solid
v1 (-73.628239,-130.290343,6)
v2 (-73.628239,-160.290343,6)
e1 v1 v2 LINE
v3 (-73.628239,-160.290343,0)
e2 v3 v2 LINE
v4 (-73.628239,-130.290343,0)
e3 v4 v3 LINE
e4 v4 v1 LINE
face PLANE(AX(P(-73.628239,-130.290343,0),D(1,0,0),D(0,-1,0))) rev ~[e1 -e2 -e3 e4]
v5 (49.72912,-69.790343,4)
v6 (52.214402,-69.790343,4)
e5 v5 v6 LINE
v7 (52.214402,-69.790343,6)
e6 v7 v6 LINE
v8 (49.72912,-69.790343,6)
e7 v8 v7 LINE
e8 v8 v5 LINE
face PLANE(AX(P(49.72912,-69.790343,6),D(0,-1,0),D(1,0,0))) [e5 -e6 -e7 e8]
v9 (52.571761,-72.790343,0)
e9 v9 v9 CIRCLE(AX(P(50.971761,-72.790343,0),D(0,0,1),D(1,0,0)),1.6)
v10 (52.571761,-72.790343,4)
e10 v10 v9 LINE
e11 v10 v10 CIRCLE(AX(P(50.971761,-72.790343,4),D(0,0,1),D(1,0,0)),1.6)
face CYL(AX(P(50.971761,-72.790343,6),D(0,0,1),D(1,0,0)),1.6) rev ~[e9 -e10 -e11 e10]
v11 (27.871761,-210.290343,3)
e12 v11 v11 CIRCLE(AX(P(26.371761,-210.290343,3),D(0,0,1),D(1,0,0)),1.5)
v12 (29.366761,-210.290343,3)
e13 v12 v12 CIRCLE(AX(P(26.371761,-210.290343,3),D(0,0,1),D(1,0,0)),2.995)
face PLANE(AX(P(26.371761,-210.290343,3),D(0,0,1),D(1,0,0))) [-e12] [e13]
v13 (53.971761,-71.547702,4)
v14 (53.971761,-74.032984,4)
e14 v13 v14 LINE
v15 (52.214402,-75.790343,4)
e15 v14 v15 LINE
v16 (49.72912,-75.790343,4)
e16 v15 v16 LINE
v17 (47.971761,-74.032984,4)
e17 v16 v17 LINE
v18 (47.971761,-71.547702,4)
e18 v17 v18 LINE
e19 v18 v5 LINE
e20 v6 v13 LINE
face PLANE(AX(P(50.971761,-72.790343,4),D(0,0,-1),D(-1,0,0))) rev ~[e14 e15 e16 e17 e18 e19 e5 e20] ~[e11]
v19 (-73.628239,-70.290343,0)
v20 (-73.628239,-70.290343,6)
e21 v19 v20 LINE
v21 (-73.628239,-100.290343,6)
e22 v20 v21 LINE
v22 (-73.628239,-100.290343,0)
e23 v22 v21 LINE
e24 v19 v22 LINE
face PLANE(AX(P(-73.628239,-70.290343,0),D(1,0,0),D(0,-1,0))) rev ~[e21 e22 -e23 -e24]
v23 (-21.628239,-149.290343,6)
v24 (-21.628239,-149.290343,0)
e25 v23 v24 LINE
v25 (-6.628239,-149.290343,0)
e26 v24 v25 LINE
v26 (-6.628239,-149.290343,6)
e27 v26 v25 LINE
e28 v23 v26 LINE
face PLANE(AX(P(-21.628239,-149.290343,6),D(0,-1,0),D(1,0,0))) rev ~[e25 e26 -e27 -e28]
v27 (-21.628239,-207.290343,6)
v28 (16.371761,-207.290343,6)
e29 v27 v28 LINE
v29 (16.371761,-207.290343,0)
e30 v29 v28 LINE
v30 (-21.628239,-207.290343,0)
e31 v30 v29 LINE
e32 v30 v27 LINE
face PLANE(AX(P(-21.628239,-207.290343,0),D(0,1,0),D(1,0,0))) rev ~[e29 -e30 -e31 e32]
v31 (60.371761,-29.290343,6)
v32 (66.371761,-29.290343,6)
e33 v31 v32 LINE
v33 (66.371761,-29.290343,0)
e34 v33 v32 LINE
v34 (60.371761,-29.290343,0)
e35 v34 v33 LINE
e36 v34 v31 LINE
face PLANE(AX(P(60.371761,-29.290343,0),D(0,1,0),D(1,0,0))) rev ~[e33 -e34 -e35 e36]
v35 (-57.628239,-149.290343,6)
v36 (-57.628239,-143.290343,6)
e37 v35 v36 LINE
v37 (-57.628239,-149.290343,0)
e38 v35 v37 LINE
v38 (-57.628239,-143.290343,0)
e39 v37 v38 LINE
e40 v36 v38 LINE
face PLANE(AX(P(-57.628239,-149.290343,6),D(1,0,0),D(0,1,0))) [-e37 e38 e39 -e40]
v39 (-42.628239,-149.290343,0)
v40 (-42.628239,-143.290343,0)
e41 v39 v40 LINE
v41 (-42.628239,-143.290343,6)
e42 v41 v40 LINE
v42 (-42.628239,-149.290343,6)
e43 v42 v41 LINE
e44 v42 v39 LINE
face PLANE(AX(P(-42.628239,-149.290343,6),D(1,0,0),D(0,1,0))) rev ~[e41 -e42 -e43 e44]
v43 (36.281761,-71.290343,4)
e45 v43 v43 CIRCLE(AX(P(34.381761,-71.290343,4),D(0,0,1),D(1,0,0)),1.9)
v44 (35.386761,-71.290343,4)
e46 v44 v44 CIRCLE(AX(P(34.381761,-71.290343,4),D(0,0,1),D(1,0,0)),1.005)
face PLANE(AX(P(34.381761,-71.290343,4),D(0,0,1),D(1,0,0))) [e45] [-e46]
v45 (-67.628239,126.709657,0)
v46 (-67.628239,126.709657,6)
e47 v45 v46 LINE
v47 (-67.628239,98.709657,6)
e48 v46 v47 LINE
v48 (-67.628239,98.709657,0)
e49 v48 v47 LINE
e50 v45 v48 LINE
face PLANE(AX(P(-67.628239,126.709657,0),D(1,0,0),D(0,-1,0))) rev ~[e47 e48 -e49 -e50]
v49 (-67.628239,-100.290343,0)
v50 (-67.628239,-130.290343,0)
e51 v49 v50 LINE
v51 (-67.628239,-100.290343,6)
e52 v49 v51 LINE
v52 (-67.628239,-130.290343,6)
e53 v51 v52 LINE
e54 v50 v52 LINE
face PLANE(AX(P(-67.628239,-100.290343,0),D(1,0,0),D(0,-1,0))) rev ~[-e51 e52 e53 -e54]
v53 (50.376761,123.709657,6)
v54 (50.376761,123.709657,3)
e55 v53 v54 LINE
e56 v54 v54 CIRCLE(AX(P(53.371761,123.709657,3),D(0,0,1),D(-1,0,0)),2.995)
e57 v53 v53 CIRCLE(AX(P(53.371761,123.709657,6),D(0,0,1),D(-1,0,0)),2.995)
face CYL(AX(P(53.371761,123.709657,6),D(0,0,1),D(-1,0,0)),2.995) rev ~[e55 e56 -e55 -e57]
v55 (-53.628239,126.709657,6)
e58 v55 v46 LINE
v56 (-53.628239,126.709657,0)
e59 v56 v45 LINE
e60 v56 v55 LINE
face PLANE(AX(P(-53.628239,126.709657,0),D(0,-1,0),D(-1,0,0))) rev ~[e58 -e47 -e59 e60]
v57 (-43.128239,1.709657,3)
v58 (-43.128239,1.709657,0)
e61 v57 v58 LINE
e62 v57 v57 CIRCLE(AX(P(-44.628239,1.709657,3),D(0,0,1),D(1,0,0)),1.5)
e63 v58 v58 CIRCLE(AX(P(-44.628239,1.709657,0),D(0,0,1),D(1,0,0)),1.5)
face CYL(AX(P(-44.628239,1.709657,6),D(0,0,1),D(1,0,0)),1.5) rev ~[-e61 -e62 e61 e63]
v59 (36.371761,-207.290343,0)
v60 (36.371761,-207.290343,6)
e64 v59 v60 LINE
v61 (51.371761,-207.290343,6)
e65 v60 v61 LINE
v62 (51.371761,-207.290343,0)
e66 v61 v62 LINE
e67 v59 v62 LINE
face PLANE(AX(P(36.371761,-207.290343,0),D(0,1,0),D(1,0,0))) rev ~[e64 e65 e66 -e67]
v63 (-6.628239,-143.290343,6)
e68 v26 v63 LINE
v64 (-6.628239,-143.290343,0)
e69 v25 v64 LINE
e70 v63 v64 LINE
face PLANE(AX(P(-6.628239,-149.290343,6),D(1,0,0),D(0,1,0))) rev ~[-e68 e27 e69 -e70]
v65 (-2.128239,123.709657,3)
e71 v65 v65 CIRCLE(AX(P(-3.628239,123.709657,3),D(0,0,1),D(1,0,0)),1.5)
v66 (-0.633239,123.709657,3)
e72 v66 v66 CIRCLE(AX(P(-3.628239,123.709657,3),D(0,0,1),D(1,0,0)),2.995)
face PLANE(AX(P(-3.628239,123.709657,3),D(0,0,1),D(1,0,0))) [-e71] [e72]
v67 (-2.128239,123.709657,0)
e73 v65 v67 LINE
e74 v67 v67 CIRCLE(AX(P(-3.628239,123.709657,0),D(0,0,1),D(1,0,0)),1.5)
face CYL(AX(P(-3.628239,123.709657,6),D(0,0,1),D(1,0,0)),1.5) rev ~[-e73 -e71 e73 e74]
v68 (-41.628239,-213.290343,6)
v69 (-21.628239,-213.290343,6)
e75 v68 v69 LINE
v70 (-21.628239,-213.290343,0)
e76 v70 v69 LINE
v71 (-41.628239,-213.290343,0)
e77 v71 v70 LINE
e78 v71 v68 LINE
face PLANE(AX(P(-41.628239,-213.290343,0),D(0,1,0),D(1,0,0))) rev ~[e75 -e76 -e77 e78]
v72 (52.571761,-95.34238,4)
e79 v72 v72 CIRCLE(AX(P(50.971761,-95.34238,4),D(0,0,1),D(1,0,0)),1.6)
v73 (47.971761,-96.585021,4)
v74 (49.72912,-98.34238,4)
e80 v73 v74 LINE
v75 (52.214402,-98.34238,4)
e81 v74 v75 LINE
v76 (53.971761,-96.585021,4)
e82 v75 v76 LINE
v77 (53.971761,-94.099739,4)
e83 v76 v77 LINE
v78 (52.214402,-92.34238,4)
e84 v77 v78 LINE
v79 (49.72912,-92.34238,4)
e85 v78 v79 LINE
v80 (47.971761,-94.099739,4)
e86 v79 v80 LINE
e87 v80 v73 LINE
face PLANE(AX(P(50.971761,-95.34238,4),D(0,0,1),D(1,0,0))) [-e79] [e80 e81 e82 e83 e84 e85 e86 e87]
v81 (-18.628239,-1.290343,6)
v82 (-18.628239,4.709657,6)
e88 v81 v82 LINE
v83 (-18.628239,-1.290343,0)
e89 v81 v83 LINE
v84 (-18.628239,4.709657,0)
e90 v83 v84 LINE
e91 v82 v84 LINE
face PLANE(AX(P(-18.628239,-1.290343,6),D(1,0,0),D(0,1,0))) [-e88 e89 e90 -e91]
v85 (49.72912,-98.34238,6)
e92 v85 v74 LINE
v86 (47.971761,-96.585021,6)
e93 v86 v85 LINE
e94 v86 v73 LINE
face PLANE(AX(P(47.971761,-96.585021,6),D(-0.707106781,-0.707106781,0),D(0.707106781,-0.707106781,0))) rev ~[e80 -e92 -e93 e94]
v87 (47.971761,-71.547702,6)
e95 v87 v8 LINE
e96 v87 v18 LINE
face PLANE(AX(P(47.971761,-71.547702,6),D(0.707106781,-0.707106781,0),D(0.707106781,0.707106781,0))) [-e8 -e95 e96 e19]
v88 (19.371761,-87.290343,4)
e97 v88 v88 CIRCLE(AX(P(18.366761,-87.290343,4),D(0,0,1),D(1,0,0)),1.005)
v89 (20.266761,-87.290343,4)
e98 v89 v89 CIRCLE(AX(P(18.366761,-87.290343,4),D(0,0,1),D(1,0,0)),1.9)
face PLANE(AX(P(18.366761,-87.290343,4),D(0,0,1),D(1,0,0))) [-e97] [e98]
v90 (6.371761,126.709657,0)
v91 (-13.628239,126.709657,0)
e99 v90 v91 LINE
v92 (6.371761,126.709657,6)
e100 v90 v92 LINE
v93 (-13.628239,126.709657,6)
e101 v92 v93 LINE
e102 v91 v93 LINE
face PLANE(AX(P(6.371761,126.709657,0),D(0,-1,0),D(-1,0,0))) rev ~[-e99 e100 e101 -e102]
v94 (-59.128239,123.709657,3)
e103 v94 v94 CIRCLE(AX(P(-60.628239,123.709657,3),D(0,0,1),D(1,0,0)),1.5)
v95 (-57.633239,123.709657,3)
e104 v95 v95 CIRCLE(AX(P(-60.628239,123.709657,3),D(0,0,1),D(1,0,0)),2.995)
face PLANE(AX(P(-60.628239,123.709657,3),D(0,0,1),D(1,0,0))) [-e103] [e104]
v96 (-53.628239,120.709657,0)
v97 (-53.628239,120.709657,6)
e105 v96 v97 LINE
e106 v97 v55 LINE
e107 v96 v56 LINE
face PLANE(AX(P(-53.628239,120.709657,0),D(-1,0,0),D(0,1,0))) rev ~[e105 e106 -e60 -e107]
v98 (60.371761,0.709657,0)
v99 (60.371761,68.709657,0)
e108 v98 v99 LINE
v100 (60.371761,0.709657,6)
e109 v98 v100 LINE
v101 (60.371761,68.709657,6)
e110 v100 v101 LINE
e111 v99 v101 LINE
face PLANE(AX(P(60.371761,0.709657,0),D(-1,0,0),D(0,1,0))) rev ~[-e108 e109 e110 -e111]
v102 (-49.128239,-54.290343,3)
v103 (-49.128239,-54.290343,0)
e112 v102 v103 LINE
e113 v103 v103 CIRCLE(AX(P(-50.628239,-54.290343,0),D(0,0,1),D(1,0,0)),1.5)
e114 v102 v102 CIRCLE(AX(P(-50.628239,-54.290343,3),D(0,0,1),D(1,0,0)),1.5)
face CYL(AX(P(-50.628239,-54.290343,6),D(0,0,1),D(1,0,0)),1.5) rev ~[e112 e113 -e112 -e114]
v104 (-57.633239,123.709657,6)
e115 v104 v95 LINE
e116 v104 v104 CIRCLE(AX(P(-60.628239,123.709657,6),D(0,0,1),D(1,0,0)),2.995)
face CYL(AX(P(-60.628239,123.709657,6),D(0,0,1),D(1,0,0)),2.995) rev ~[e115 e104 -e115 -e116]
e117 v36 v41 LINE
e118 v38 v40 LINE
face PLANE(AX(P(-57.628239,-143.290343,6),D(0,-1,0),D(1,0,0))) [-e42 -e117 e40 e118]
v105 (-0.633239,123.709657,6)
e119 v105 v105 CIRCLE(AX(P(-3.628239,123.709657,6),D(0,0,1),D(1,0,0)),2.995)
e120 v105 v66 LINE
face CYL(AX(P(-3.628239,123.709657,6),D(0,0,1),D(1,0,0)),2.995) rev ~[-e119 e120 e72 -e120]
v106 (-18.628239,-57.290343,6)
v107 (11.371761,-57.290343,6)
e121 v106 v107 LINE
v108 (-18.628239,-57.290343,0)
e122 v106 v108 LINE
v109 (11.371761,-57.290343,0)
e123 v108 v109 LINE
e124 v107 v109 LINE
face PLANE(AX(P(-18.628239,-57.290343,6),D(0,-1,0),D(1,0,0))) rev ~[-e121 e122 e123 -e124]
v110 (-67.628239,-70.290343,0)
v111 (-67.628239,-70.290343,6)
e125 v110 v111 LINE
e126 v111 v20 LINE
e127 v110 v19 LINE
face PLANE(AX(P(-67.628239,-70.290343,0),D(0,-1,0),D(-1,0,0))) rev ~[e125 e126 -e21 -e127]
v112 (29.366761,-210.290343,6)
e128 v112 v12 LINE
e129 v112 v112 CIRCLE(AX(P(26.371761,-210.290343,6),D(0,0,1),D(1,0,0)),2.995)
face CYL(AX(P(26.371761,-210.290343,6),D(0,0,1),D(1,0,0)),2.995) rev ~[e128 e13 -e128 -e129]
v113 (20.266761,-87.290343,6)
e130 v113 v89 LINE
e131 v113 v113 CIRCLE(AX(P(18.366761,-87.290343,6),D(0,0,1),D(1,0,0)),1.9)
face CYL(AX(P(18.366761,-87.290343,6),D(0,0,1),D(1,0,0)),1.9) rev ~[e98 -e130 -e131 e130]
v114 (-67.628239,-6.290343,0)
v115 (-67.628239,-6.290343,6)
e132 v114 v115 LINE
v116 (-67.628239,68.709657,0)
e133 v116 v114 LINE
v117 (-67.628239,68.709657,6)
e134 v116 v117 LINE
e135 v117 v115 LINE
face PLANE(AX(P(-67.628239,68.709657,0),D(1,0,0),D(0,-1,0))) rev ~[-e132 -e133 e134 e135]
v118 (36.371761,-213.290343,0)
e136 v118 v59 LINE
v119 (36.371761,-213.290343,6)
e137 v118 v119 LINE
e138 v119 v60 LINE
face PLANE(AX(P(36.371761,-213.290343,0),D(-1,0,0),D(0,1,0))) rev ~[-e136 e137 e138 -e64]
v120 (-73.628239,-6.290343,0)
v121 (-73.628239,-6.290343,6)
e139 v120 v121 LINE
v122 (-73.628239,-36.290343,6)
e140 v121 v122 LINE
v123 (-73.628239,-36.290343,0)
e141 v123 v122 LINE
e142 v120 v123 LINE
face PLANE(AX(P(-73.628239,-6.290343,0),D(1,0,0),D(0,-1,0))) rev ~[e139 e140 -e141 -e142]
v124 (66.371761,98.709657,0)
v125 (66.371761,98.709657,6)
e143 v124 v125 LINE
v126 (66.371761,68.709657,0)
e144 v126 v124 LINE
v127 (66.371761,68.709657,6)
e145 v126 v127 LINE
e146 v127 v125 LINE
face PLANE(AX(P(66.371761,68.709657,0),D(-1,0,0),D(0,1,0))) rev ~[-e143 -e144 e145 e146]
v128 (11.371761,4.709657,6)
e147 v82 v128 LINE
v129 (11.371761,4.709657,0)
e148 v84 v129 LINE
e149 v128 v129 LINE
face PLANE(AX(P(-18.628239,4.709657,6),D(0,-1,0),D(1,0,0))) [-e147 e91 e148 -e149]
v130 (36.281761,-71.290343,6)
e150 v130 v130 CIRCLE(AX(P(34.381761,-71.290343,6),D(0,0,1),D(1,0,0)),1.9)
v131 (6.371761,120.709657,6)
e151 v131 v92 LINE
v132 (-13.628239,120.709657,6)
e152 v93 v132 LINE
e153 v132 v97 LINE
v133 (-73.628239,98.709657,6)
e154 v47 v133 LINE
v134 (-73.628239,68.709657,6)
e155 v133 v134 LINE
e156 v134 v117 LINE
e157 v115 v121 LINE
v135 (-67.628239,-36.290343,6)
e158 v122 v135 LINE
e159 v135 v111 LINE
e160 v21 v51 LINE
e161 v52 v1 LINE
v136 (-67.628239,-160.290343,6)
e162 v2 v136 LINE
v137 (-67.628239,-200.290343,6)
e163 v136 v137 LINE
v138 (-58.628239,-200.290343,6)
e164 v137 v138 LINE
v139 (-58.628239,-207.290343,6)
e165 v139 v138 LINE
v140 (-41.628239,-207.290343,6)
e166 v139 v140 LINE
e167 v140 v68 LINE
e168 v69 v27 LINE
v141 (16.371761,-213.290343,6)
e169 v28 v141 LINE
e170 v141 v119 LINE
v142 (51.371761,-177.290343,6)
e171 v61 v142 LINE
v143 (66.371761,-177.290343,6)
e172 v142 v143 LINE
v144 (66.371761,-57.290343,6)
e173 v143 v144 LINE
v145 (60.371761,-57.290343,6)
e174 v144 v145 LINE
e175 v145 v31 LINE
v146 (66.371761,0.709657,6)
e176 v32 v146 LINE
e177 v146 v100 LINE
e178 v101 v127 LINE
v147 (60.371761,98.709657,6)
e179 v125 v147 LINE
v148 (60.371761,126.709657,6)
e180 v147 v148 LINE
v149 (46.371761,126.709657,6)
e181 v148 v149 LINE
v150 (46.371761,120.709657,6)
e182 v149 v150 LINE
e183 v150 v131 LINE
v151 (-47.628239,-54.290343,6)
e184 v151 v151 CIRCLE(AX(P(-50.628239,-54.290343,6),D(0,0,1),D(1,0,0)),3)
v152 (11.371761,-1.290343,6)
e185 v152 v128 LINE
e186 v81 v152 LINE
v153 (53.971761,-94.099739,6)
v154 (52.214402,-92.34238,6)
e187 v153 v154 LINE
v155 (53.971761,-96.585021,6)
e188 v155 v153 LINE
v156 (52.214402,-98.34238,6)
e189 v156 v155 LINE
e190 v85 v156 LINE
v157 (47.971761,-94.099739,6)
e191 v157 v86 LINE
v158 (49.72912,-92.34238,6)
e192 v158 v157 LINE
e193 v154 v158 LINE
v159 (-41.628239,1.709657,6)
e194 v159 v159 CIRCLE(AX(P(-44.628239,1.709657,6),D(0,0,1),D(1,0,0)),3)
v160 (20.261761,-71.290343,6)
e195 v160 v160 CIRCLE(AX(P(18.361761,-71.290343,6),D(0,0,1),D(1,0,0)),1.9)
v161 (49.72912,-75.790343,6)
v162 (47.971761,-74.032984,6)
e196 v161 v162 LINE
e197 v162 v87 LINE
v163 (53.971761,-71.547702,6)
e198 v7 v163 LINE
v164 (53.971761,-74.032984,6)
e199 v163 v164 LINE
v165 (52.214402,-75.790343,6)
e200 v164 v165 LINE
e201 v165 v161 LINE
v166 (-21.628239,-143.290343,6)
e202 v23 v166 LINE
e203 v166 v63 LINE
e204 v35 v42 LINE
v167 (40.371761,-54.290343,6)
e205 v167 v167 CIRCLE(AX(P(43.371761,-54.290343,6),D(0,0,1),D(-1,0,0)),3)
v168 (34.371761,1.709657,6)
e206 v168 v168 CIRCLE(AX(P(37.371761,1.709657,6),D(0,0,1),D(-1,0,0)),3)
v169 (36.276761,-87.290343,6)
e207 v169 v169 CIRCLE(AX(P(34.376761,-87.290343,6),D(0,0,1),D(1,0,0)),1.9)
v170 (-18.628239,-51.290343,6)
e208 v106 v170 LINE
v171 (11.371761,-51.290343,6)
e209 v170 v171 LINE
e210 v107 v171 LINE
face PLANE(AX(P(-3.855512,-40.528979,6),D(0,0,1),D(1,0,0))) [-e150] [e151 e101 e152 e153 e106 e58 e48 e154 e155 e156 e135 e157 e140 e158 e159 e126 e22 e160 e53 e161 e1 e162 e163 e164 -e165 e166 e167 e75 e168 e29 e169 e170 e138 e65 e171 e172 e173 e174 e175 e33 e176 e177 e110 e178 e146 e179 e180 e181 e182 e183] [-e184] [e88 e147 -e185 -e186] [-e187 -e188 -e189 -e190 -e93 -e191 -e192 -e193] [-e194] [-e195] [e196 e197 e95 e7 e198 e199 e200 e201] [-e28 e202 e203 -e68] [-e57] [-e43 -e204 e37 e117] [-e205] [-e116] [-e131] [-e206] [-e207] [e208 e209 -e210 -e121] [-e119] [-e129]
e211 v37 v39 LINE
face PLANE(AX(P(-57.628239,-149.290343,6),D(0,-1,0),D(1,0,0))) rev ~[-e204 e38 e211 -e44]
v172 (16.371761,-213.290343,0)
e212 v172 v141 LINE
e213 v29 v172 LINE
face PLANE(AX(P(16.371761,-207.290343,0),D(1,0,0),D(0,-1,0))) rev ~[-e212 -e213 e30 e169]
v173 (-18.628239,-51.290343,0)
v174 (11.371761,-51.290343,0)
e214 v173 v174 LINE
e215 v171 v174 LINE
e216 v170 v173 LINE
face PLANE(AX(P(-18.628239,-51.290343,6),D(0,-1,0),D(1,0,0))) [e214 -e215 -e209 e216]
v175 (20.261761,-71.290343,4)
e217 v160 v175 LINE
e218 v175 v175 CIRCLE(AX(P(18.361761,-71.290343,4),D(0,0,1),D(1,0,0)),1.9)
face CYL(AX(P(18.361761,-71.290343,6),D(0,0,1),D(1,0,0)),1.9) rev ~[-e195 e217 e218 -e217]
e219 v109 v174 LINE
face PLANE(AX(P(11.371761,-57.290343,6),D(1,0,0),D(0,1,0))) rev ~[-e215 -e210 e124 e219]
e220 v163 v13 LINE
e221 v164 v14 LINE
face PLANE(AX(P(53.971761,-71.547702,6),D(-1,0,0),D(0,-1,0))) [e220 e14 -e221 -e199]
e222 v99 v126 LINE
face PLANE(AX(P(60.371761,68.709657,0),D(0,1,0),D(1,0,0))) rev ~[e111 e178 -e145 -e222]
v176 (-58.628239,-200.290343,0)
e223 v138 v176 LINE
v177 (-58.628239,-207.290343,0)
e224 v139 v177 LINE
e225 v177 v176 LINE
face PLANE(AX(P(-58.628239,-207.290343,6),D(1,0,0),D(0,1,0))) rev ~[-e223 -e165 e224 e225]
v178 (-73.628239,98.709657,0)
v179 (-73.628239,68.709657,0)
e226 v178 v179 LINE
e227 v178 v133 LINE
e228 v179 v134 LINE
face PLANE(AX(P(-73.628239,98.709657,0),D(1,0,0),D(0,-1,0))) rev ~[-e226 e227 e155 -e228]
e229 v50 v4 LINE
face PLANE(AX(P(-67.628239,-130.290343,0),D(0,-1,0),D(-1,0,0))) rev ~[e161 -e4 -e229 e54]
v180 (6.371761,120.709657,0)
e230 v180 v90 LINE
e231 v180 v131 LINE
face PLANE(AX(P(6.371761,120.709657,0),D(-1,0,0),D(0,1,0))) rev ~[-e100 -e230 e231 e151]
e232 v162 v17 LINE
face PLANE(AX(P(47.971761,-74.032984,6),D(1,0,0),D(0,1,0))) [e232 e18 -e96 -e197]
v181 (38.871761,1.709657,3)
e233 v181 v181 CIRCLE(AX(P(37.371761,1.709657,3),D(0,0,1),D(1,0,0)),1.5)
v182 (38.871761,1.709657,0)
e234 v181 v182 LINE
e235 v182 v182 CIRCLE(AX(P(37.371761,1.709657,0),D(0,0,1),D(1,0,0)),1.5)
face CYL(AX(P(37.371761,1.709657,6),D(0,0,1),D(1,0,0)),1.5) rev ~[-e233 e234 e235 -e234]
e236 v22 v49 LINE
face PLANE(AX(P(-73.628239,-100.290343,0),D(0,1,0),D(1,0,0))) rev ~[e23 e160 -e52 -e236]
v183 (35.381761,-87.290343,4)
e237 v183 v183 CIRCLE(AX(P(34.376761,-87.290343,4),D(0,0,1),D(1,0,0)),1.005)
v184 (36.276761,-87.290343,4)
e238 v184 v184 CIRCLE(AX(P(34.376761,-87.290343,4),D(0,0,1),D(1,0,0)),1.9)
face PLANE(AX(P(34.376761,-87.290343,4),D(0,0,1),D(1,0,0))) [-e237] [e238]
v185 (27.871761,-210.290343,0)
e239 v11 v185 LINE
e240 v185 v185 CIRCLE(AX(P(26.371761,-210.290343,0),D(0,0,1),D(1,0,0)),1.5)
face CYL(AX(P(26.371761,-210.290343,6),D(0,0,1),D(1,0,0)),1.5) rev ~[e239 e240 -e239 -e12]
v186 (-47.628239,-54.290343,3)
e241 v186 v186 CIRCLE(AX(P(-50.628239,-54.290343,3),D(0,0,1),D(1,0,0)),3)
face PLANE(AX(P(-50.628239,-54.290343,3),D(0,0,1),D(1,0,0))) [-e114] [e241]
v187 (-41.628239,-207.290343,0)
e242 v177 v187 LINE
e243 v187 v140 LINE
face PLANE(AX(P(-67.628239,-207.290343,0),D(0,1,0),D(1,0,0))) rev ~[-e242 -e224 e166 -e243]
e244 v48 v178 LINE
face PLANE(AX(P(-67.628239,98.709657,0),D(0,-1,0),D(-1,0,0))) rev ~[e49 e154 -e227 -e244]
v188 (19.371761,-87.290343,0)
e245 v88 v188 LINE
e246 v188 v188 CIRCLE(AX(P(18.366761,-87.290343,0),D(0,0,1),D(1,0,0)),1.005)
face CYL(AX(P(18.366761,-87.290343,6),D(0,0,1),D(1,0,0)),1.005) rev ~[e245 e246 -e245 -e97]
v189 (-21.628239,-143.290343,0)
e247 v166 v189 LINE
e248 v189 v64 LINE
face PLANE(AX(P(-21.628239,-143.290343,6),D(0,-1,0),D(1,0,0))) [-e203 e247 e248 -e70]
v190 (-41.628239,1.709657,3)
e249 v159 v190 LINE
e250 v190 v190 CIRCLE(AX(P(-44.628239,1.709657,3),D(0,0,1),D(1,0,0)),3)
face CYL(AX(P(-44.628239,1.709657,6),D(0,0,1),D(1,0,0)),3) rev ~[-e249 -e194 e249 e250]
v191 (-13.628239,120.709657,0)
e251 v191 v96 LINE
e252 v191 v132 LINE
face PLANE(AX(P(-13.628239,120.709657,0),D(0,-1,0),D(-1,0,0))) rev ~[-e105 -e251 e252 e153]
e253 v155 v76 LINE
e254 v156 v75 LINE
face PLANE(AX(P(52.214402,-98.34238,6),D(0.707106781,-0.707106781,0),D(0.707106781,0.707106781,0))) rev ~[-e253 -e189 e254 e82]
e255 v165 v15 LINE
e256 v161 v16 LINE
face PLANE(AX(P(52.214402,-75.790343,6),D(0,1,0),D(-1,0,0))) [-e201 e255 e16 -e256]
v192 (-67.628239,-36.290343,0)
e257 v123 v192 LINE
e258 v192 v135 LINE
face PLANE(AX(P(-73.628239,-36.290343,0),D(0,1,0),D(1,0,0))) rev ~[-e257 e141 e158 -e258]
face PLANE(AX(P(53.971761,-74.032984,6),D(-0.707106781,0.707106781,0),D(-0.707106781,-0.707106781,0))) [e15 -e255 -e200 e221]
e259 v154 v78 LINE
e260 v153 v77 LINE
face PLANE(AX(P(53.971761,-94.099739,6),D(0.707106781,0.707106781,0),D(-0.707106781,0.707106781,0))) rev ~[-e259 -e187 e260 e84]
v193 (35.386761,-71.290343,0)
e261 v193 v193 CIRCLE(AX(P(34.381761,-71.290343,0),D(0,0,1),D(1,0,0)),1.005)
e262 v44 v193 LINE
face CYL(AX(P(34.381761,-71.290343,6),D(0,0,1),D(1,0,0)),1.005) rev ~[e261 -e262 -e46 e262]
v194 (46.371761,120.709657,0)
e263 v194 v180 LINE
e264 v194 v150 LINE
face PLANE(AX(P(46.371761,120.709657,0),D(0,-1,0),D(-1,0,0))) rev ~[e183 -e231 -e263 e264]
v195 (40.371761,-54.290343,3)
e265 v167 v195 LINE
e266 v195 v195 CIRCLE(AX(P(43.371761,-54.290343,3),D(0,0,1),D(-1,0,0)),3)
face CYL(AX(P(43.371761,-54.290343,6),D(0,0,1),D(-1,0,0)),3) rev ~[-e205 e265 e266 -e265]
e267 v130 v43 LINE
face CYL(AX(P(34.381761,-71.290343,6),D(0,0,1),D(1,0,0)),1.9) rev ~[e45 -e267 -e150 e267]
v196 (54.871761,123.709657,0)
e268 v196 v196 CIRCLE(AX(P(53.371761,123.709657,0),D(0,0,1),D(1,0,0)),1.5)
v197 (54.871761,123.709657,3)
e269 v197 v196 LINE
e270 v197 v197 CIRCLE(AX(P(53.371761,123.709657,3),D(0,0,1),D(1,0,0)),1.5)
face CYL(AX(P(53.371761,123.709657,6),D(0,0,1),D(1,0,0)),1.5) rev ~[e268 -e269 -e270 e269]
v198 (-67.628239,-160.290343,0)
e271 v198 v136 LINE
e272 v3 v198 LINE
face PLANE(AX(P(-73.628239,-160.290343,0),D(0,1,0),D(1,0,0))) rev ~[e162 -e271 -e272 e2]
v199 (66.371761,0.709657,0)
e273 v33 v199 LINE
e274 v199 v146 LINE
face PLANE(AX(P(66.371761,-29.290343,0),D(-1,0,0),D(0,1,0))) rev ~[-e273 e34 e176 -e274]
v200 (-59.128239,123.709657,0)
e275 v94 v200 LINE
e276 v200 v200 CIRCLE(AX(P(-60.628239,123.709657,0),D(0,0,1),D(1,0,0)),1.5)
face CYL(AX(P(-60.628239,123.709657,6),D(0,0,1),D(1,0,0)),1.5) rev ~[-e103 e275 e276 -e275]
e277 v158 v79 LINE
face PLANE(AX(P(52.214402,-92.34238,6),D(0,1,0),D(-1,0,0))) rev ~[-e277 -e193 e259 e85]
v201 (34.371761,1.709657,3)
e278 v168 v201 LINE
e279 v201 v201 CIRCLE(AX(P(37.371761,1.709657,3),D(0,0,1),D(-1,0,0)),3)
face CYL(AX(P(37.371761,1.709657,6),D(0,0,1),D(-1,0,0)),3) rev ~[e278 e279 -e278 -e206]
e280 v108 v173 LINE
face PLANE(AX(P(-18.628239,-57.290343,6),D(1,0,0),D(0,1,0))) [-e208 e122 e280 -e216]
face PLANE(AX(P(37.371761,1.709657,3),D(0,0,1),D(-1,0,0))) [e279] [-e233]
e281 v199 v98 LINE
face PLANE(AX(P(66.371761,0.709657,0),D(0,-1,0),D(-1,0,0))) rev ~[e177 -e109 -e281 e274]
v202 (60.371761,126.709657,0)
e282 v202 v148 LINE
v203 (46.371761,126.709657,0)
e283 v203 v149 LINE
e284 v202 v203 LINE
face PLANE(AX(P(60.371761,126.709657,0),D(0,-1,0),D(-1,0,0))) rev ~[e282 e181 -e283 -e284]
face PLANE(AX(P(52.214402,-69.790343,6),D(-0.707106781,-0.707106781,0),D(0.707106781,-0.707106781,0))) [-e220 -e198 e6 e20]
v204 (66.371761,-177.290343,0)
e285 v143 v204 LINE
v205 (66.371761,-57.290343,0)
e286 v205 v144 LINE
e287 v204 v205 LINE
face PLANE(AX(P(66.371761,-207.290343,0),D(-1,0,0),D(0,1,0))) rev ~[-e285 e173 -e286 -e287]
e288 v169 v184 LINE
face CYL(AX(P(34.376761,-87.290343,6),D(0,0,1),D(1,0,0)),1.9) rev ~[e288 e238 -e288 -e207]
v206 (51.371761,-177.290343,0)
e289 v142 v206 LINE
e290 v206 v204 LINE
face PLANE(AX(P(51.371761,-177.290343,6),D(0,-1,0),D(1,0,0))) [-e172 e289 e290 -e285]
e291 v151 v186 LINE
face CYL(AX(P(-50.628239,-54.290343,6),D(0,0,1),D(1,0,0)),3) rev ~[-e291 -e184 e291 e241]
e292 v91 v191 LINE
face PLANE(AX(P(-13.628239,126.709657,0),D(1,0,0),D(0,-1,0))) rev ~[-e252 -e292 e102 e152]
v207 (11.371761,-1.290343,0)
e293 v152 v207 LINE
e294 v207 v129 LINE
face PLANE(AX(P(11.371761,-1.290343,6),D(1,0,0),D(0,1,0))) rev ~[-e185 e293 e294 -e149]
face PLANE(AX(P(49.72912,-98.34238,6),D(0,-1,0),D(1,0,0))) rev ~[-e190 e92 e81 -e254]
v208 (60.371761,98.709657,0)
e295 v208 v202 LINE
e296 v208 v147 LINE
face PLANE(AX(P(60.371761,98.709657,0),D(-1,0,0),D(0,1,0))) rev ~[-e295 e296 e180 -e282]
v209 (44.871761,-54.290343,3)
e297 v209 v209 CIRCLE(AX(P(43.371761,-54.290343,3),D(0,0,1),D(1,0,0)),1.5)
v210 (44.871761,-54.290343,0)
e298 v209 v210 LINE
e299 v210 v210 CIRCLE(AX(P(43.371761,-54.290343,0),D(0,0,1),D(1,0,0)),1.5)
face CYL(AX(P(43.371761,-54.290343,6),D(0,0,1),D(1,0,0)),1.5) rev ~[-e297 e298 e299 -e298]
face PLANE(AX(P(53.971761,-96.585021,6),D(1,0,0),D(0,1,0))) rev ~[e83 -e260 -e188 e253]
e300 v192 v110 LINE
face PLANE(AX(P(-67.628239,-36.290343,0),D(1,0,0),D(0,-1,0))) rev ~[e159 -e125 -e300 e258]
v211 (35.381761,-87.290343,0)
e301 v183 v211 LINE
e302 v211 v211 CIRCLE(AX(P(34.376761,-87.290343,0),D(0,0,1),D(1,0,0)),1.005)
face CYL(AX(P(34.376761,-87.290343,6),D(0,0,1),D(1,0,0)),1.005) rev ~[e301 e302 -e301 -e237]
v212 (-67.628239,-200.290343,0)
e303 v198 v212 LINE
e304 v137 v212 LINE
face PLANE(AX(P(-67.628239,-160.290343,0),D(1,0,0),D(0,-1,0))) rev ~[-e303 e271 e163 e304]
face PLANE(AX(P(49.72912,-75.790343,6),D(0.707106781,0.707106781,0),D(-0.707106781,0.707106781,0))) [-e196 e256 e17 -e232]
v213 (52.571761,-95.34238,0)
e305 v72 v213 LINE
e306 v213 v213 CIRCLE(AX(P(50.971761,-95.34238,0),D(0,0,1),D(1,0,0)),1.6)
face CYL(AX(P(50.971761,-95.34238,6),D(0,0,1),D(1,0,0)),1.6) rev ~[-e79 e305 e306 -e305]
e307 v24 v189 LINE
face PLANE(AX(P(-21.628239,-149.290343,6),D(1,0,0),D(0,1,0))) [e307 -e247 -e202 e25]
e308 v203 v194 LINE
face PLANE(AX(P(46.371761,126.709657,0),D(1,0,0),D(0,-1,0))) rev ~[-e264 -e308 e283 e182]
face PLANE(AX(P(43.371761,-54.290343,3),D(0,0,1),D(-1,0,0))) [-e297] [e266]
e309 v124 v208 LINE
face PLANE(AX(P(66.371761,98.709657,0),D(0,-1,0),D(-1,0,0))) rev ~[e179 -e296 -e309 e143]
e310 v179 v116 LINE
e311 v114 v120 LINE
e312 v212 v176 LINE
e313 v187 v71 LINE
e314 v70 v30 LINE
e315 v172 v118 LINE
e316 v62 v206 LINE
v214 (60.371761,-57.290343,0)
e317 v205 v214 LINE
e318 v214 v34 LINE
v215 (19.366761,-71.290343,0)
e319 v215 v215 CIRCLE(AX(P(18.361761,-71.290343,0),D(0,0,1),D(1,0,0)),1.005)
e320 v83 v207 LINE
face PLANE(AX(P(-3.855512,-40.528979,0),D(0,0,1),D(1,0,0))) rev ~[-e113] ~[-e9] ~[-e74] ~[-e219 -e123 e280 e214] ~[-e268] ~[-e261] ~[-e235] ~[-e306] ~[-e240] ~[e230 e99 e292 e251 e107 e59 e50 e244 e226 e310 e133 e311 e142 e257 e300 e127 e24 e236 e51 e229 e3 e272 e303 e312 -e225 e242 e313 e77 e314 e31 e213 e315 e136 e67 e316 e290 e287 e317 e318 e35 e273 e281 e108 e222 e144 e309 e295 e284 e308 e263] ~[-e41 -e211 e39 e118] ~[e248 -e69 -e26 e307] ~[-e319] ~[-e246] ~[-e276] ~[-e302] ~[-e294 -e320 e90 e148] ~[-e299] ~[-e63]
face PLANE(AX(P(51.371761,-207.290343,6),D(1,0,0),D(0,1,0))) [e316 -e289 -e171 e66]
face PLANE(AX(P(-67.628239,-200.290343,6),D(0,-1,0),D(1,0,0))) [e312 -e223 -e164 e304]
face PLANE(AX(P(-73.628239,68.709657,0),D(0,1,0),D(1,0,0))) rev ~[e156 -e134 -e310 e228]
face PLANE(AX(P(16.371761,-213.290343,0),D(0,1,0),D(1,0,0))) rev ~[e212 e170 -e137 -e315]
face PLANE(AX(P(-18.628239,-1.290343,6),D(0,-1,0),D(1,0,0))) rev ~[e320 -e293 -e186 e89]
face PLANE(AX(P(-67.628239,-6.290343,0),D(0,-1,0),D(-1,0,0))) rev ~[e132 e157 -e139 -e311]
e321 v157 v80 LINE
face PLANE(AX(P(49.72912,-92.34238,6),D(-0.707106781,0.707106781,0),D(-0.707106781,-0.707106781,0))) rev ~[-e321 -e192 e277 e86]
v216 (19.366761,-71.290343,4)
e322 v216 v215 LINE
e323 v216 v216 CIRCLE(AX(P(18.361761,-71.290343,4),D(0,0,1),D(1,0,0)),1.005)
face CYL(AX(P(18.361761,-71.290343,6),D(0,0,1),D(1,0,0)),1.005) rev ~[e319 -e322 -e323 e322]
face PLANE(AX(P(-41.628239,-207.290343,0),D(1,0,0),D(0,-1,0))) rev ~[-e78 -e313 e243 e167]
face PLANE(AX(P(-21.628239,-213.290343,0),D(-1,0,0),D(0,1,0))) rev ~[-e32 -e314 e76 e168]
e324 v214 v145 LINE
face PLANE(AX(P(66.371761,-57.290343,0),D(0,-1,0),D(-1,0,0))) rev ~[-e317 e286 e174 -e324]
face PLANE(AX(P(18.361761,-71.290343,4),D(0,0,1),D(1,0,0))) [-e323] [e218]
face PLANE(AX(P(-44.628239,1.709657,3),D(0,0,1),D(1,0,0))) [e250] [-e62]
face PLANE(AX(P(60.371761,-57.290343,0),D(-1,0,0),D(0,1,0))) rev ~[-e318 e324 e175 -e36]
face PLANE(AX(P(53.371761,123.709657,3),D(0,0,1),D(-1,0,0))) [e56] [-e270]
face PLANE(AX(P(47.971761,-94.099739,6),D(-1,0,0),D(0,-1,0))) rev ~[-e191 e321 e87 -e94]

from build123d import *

# Parameters (mm, degrees)
BOSS_EXTRU_1_DEPTH       = 6
ESQUISSE2_R              = 1.5
ESQUISSE2_W              = 30
ESQUISSE2_H              = 6
ENL_V_MAT_EXTRU_1_DEPTH  = 226.720818795
ESQUISSE3_R              = 2.995
ESQUISSE3_R_2            = 3
ENL_V_MAT_EXTRU_2_DEPTH  = 3
ESQUISSE4_R              = 1.005
ENL_V_MAT_EXTRU_4_DEPTH  = 226.720818795
ESQUISSE5_R              = 1.9
ENL_V_MAT_EXTRU_5_DEPTH  = 2
ESQUISSE6_W              = 15
ESQUISSE6_H              = 30
ESQUISSE6_W_2            = 9
ESQUISSE6_H_2            = 7
ENL_V_MAT_EXTRU_6_DEPTH  = 226.720818795
ESQUISSE7_R              = 1.6
ENL_V_MAT_EXTRU_7_DEPTH  = 226.720818795
ESQUISSE10_W             = 15
ESQUISSE10_H             = 6
ENL_V_MAT_EXTRU_9_DEPTH  = 226.720818795
ESQUISSE11_R             = 1.6
ENL_V_MAT_EXTRU_10_DEPTH = 2


with BuildPart() as part:
    # Esquisse1 → Boss.-Extru.1 (new body)
    with BuildSketch(Plane.XY):
        Polygon((-67.628238976, -207.290343107), (-41.628238976, -207.290343107), (-41.628238976, -213.290343107), (-21.628238976, -213.290343107), (-21.628238976, -207.290343107), (16.371761024, -207.290343107), (16.371761024, -213.290343107), (36.371761024, -213.290343107), (36.371761024, -207.290343107), (66.371761024, -207.290343107), (66.371761024, -57.290343107), (60.371761024, -57.290343107), (60.371761024, -29.290343107), (66.371761024, -29.290343107), (66.371761024, 0.709656893), (60.371761024, 0.709656893), (60.371761024, 68.709656893), (66.371761024, 68.709656893), (66.371761024, 98.709656893), (60.371761024, 98.709656893), (60.371761024, 126.709656893), (46.371761024, 126.709656893), (46.371761024, 120.709656893), (6.371761024, 120.709656893), (6.371761024, 126.709656893), (-13.628238976, 126.709656893), (-13.628238976, 120.709656893), (-53.628238976, 120.709656893), (-53.628238976, 126.709656893), (-67.628238976, 126.709656893), (-67.628238976, 98.709656893), (-73.628238976, 98.709656893), (-73.628238976, 68.709656893), (-67.628238976, 68.709656893), (-67.628238976, -6.290343107), (-73.628238976, -6.290343107), (-73.628238976, -36.290343107), (-67.628238976, -36.290343107), (-67.628238976, -70.290343107), (-73.628238976, -70.290343107), (-73.628238976, -100.290343107), (-67.628238976, -100.290343107), (-67.628238976, -130.290343107), (-73.628238976, -130.290343107), (-73.628238976, -160.290343107), (-67.628238976, -160.290343107), align=None)
    extrude(amount=BOSS_EXTRU_1_DEPTH)

    # Esquisse2 → Enlèv. mat.-Extru.1 (cut, through all)
    with BuildSketch(Plane.XY.offset(6)):
        with Locations((-44.628238976, 1.709656893)):
            Circle(ESQUISSE2_R)
        with Locations((37.371761024, 1.709656893)):
            Circle(ESQUISSE2_R)
        with Locations((43.371761024, -54.290343107)):
            Circle(ESQUISSE2_R)
        with Locations((-50.628238976, -54.290343107)):
            Circle(ESQUISSE2_R)
        with Locations((-3.628238976, 123.709656893)):
            Circle(ESQUISSE2_R)
        with Locations((26.371761024, -210.290343107)):
            Circle(ESQUISSE2_R)
        with Locations((-60.628238976, 123.709656893)):
            Circle(ESQUISSE2_R)
        with Locations((53.371761024, 123.709656893)):
            Circle(ESQUISSE2_R)
        with Locations((-3.628238976, 1.709656893)):
            Rectangle(ESQUISSE2_W, ESQUISSE2_H)
        with Locations((-3.628238976, -54.290343107)):
            Rectangle(ESQUISSE2_W, ESQUISSE2_H)
    extrude(amount=-ENL_V_MAT_EXTRU_1_DEPTH, mode=Mode.SUBTRACT)

    # Esquisse3 → Enlèv. mat.-Extru.2 (cut)
    with BuildSketch(Plane.XY.offset(6)):
        with Locations((-3.628238976, 123.709656893)):
            Circle(ESQUISSE3_R)
        with Locations((-60.628238976, 123.709656893)):
            Circle(ESQUISSE3_R)
        with Locations((-44.628238976, 1.709656893)):
            Circle(ESQUISSE3_R_2)
        with Locations((-50.628238976, -54.290343107)):
            Circle(ESQUISSE3_R_2)
        with Locations((26.371761024, -210.290343107)):
            Circle(ESQUISSE3_R)
        with Locations(Location((43.371761024, -54.290343107, 0), (0, 0, 180))):
            Circle(ESQUISSE3_R_2)
        with Locations(Location((37.371761024, 1.709656893, 0), (0, 0, 180))):
            Circle(ESQUISSE3_R_2)
        with Locations(Location((53.371761024, 123.709656893, 0), (0, 0, 180))):
            Circle(ESQUISSE3_R)
    extrude(amount=-ENL_V_MAT_EXTRU_2_DEPTH, mode=Mode.SUBTRACT)

    # Esquisse4 → Enlèv. mat.-Extru.4 (cut, through all)
    with BuildSketch(Plane.XY.offset(6)):
        with Locations((18.361761024, -71.290343107)):
            Circle(ESQUISSE4_R)
        with Locations((34.381761024, -71.290343107)):
            Circle(ESQUISSE4_R)
        with Locations((18.366761024, -87.290343107)):
            Circle(ESQUISSE4_R)
        with Locations((34.376761024, -87.290343107)):
            Circle(ESQUISSE4_R)
    extrude(amount=-ENL_V_MAT_EXTRU_4_DEPTH, mode=Mode.SUBTRACT)

    # Esquisse5 → Enlèv. mat.-Extru.5 (cut)
    with BuildSketch(Plane.XY.offset(6)):
        with Locations((18.361761024, -71.290343107)):
            Circle(ESQUISSE5_R)
        with Locations((34.381761024, -71.290343107)):
            Circle(ESQUISSE5_R)
        with Locations((34.376761024, -87.290343107)):
            Circle(ESQUISSE5_R)
        with Locations((18.366761024, -87.290343107)):
            Circle(ESQUISSE5_R)
    extrude(amount=-ENL_V_MAT_EXTRU_5_DEPTH, mode=Mode.SUBTRACT)

    # Esquisse6 → Enlèv. mat.-Extru.6 (cut, through all)
    with BuildSketch(Plane.XY.offset(6)):
        with Locations((58.871761024, -192.290343107)):
            Rectangle(ESQUISSE6_W, ESQUISSE6_H)
        with Locations((-63.128238976, -203.790343107)):
            Rectangle(ESQUISSE6_W_2, ESQUISSE6_H_2)
    extrude(amount=-ENL_V_MAT_EXTRU_6_DEPTH, mode=Mode.SUBTRACT)

    # Esquisse7 → Enlèv. mat.-Extru.7 (cut, through all)
    with BuildSketch(Plane.XY.offset(6)):
        with Locations((50.971761024, -72.790343107)):
            Circle(ESQUISSE7_R)
        with Locations((50.971761024, -95.342380105)):
            Circle(ESQUISSE7_R)
    extrude(amount=-ENL_V_MAT_EXTRU_7_DEPTH, mode=Mode.SUBTRACT)

    # Esquisse10 → Enlèv. mat.-Extru.9 (cut, through all)
    with BuildSketch(Plane.XY.offset(6)):
        with Locations((-50.128238976, -146.290343107)):
            Rectangle(ESQUISSE10_W, ESQUISSE10_H)
        with Locations((-14.128238976, -146.290343107)):
            Rectangle(ESQUISSE10_W, ESQUISSE10_H)
    extrude(amount=-ENL_V_MAT_EXTRU_9_DEPTH, mode=Mode.SUBTRACT)

    # Esquisse11 → Enlèv. mat.-Extru.10 (cut)
    # profile 1 of 2: a face of its own
    with BuildSketch(Plane.XY.offset(6)):
        Polygon((49.729120337, -69.790343107), (52.214401711, -69.790343107), (53.971761024, -71.54770242), (53.971761024, -74.032983794), (52.214401711, -75.790343107), (49.729120337, -75.790343107), (47.971761024, -74.032983794), (47.971761024, -71.54770242), align=None)
        with Locations((50.971761024, -72.790343107)):
            Circle(ESQUISSE11_R, mode=Mode.SUBTRACT)
    # profile 2 of 2: a face of its own
    with BuildSketch(Plane.XY.offset(6)):
        Polygon((47.971761024, -96.585020792), (49.729120337, -98.342380105), (52.214401711, -98.342380105), (53.971761024, -96.585020792), (53.971761024, -94.099739418), (52.214401711, -92.342380105), (49.729120337, -92.342380105), (47.971761024, -94.099739418), align=None)
        with Locations((50.971761024, -95.342380105)):
            Circle(ESQUISSE11_R, mode=Mode.SUBTRACT)
    extrude(amount=-ENL_V_MAT_EXTRU_10_DEPTH, mode=Mode.SUBTRACT)


solid = part.part
